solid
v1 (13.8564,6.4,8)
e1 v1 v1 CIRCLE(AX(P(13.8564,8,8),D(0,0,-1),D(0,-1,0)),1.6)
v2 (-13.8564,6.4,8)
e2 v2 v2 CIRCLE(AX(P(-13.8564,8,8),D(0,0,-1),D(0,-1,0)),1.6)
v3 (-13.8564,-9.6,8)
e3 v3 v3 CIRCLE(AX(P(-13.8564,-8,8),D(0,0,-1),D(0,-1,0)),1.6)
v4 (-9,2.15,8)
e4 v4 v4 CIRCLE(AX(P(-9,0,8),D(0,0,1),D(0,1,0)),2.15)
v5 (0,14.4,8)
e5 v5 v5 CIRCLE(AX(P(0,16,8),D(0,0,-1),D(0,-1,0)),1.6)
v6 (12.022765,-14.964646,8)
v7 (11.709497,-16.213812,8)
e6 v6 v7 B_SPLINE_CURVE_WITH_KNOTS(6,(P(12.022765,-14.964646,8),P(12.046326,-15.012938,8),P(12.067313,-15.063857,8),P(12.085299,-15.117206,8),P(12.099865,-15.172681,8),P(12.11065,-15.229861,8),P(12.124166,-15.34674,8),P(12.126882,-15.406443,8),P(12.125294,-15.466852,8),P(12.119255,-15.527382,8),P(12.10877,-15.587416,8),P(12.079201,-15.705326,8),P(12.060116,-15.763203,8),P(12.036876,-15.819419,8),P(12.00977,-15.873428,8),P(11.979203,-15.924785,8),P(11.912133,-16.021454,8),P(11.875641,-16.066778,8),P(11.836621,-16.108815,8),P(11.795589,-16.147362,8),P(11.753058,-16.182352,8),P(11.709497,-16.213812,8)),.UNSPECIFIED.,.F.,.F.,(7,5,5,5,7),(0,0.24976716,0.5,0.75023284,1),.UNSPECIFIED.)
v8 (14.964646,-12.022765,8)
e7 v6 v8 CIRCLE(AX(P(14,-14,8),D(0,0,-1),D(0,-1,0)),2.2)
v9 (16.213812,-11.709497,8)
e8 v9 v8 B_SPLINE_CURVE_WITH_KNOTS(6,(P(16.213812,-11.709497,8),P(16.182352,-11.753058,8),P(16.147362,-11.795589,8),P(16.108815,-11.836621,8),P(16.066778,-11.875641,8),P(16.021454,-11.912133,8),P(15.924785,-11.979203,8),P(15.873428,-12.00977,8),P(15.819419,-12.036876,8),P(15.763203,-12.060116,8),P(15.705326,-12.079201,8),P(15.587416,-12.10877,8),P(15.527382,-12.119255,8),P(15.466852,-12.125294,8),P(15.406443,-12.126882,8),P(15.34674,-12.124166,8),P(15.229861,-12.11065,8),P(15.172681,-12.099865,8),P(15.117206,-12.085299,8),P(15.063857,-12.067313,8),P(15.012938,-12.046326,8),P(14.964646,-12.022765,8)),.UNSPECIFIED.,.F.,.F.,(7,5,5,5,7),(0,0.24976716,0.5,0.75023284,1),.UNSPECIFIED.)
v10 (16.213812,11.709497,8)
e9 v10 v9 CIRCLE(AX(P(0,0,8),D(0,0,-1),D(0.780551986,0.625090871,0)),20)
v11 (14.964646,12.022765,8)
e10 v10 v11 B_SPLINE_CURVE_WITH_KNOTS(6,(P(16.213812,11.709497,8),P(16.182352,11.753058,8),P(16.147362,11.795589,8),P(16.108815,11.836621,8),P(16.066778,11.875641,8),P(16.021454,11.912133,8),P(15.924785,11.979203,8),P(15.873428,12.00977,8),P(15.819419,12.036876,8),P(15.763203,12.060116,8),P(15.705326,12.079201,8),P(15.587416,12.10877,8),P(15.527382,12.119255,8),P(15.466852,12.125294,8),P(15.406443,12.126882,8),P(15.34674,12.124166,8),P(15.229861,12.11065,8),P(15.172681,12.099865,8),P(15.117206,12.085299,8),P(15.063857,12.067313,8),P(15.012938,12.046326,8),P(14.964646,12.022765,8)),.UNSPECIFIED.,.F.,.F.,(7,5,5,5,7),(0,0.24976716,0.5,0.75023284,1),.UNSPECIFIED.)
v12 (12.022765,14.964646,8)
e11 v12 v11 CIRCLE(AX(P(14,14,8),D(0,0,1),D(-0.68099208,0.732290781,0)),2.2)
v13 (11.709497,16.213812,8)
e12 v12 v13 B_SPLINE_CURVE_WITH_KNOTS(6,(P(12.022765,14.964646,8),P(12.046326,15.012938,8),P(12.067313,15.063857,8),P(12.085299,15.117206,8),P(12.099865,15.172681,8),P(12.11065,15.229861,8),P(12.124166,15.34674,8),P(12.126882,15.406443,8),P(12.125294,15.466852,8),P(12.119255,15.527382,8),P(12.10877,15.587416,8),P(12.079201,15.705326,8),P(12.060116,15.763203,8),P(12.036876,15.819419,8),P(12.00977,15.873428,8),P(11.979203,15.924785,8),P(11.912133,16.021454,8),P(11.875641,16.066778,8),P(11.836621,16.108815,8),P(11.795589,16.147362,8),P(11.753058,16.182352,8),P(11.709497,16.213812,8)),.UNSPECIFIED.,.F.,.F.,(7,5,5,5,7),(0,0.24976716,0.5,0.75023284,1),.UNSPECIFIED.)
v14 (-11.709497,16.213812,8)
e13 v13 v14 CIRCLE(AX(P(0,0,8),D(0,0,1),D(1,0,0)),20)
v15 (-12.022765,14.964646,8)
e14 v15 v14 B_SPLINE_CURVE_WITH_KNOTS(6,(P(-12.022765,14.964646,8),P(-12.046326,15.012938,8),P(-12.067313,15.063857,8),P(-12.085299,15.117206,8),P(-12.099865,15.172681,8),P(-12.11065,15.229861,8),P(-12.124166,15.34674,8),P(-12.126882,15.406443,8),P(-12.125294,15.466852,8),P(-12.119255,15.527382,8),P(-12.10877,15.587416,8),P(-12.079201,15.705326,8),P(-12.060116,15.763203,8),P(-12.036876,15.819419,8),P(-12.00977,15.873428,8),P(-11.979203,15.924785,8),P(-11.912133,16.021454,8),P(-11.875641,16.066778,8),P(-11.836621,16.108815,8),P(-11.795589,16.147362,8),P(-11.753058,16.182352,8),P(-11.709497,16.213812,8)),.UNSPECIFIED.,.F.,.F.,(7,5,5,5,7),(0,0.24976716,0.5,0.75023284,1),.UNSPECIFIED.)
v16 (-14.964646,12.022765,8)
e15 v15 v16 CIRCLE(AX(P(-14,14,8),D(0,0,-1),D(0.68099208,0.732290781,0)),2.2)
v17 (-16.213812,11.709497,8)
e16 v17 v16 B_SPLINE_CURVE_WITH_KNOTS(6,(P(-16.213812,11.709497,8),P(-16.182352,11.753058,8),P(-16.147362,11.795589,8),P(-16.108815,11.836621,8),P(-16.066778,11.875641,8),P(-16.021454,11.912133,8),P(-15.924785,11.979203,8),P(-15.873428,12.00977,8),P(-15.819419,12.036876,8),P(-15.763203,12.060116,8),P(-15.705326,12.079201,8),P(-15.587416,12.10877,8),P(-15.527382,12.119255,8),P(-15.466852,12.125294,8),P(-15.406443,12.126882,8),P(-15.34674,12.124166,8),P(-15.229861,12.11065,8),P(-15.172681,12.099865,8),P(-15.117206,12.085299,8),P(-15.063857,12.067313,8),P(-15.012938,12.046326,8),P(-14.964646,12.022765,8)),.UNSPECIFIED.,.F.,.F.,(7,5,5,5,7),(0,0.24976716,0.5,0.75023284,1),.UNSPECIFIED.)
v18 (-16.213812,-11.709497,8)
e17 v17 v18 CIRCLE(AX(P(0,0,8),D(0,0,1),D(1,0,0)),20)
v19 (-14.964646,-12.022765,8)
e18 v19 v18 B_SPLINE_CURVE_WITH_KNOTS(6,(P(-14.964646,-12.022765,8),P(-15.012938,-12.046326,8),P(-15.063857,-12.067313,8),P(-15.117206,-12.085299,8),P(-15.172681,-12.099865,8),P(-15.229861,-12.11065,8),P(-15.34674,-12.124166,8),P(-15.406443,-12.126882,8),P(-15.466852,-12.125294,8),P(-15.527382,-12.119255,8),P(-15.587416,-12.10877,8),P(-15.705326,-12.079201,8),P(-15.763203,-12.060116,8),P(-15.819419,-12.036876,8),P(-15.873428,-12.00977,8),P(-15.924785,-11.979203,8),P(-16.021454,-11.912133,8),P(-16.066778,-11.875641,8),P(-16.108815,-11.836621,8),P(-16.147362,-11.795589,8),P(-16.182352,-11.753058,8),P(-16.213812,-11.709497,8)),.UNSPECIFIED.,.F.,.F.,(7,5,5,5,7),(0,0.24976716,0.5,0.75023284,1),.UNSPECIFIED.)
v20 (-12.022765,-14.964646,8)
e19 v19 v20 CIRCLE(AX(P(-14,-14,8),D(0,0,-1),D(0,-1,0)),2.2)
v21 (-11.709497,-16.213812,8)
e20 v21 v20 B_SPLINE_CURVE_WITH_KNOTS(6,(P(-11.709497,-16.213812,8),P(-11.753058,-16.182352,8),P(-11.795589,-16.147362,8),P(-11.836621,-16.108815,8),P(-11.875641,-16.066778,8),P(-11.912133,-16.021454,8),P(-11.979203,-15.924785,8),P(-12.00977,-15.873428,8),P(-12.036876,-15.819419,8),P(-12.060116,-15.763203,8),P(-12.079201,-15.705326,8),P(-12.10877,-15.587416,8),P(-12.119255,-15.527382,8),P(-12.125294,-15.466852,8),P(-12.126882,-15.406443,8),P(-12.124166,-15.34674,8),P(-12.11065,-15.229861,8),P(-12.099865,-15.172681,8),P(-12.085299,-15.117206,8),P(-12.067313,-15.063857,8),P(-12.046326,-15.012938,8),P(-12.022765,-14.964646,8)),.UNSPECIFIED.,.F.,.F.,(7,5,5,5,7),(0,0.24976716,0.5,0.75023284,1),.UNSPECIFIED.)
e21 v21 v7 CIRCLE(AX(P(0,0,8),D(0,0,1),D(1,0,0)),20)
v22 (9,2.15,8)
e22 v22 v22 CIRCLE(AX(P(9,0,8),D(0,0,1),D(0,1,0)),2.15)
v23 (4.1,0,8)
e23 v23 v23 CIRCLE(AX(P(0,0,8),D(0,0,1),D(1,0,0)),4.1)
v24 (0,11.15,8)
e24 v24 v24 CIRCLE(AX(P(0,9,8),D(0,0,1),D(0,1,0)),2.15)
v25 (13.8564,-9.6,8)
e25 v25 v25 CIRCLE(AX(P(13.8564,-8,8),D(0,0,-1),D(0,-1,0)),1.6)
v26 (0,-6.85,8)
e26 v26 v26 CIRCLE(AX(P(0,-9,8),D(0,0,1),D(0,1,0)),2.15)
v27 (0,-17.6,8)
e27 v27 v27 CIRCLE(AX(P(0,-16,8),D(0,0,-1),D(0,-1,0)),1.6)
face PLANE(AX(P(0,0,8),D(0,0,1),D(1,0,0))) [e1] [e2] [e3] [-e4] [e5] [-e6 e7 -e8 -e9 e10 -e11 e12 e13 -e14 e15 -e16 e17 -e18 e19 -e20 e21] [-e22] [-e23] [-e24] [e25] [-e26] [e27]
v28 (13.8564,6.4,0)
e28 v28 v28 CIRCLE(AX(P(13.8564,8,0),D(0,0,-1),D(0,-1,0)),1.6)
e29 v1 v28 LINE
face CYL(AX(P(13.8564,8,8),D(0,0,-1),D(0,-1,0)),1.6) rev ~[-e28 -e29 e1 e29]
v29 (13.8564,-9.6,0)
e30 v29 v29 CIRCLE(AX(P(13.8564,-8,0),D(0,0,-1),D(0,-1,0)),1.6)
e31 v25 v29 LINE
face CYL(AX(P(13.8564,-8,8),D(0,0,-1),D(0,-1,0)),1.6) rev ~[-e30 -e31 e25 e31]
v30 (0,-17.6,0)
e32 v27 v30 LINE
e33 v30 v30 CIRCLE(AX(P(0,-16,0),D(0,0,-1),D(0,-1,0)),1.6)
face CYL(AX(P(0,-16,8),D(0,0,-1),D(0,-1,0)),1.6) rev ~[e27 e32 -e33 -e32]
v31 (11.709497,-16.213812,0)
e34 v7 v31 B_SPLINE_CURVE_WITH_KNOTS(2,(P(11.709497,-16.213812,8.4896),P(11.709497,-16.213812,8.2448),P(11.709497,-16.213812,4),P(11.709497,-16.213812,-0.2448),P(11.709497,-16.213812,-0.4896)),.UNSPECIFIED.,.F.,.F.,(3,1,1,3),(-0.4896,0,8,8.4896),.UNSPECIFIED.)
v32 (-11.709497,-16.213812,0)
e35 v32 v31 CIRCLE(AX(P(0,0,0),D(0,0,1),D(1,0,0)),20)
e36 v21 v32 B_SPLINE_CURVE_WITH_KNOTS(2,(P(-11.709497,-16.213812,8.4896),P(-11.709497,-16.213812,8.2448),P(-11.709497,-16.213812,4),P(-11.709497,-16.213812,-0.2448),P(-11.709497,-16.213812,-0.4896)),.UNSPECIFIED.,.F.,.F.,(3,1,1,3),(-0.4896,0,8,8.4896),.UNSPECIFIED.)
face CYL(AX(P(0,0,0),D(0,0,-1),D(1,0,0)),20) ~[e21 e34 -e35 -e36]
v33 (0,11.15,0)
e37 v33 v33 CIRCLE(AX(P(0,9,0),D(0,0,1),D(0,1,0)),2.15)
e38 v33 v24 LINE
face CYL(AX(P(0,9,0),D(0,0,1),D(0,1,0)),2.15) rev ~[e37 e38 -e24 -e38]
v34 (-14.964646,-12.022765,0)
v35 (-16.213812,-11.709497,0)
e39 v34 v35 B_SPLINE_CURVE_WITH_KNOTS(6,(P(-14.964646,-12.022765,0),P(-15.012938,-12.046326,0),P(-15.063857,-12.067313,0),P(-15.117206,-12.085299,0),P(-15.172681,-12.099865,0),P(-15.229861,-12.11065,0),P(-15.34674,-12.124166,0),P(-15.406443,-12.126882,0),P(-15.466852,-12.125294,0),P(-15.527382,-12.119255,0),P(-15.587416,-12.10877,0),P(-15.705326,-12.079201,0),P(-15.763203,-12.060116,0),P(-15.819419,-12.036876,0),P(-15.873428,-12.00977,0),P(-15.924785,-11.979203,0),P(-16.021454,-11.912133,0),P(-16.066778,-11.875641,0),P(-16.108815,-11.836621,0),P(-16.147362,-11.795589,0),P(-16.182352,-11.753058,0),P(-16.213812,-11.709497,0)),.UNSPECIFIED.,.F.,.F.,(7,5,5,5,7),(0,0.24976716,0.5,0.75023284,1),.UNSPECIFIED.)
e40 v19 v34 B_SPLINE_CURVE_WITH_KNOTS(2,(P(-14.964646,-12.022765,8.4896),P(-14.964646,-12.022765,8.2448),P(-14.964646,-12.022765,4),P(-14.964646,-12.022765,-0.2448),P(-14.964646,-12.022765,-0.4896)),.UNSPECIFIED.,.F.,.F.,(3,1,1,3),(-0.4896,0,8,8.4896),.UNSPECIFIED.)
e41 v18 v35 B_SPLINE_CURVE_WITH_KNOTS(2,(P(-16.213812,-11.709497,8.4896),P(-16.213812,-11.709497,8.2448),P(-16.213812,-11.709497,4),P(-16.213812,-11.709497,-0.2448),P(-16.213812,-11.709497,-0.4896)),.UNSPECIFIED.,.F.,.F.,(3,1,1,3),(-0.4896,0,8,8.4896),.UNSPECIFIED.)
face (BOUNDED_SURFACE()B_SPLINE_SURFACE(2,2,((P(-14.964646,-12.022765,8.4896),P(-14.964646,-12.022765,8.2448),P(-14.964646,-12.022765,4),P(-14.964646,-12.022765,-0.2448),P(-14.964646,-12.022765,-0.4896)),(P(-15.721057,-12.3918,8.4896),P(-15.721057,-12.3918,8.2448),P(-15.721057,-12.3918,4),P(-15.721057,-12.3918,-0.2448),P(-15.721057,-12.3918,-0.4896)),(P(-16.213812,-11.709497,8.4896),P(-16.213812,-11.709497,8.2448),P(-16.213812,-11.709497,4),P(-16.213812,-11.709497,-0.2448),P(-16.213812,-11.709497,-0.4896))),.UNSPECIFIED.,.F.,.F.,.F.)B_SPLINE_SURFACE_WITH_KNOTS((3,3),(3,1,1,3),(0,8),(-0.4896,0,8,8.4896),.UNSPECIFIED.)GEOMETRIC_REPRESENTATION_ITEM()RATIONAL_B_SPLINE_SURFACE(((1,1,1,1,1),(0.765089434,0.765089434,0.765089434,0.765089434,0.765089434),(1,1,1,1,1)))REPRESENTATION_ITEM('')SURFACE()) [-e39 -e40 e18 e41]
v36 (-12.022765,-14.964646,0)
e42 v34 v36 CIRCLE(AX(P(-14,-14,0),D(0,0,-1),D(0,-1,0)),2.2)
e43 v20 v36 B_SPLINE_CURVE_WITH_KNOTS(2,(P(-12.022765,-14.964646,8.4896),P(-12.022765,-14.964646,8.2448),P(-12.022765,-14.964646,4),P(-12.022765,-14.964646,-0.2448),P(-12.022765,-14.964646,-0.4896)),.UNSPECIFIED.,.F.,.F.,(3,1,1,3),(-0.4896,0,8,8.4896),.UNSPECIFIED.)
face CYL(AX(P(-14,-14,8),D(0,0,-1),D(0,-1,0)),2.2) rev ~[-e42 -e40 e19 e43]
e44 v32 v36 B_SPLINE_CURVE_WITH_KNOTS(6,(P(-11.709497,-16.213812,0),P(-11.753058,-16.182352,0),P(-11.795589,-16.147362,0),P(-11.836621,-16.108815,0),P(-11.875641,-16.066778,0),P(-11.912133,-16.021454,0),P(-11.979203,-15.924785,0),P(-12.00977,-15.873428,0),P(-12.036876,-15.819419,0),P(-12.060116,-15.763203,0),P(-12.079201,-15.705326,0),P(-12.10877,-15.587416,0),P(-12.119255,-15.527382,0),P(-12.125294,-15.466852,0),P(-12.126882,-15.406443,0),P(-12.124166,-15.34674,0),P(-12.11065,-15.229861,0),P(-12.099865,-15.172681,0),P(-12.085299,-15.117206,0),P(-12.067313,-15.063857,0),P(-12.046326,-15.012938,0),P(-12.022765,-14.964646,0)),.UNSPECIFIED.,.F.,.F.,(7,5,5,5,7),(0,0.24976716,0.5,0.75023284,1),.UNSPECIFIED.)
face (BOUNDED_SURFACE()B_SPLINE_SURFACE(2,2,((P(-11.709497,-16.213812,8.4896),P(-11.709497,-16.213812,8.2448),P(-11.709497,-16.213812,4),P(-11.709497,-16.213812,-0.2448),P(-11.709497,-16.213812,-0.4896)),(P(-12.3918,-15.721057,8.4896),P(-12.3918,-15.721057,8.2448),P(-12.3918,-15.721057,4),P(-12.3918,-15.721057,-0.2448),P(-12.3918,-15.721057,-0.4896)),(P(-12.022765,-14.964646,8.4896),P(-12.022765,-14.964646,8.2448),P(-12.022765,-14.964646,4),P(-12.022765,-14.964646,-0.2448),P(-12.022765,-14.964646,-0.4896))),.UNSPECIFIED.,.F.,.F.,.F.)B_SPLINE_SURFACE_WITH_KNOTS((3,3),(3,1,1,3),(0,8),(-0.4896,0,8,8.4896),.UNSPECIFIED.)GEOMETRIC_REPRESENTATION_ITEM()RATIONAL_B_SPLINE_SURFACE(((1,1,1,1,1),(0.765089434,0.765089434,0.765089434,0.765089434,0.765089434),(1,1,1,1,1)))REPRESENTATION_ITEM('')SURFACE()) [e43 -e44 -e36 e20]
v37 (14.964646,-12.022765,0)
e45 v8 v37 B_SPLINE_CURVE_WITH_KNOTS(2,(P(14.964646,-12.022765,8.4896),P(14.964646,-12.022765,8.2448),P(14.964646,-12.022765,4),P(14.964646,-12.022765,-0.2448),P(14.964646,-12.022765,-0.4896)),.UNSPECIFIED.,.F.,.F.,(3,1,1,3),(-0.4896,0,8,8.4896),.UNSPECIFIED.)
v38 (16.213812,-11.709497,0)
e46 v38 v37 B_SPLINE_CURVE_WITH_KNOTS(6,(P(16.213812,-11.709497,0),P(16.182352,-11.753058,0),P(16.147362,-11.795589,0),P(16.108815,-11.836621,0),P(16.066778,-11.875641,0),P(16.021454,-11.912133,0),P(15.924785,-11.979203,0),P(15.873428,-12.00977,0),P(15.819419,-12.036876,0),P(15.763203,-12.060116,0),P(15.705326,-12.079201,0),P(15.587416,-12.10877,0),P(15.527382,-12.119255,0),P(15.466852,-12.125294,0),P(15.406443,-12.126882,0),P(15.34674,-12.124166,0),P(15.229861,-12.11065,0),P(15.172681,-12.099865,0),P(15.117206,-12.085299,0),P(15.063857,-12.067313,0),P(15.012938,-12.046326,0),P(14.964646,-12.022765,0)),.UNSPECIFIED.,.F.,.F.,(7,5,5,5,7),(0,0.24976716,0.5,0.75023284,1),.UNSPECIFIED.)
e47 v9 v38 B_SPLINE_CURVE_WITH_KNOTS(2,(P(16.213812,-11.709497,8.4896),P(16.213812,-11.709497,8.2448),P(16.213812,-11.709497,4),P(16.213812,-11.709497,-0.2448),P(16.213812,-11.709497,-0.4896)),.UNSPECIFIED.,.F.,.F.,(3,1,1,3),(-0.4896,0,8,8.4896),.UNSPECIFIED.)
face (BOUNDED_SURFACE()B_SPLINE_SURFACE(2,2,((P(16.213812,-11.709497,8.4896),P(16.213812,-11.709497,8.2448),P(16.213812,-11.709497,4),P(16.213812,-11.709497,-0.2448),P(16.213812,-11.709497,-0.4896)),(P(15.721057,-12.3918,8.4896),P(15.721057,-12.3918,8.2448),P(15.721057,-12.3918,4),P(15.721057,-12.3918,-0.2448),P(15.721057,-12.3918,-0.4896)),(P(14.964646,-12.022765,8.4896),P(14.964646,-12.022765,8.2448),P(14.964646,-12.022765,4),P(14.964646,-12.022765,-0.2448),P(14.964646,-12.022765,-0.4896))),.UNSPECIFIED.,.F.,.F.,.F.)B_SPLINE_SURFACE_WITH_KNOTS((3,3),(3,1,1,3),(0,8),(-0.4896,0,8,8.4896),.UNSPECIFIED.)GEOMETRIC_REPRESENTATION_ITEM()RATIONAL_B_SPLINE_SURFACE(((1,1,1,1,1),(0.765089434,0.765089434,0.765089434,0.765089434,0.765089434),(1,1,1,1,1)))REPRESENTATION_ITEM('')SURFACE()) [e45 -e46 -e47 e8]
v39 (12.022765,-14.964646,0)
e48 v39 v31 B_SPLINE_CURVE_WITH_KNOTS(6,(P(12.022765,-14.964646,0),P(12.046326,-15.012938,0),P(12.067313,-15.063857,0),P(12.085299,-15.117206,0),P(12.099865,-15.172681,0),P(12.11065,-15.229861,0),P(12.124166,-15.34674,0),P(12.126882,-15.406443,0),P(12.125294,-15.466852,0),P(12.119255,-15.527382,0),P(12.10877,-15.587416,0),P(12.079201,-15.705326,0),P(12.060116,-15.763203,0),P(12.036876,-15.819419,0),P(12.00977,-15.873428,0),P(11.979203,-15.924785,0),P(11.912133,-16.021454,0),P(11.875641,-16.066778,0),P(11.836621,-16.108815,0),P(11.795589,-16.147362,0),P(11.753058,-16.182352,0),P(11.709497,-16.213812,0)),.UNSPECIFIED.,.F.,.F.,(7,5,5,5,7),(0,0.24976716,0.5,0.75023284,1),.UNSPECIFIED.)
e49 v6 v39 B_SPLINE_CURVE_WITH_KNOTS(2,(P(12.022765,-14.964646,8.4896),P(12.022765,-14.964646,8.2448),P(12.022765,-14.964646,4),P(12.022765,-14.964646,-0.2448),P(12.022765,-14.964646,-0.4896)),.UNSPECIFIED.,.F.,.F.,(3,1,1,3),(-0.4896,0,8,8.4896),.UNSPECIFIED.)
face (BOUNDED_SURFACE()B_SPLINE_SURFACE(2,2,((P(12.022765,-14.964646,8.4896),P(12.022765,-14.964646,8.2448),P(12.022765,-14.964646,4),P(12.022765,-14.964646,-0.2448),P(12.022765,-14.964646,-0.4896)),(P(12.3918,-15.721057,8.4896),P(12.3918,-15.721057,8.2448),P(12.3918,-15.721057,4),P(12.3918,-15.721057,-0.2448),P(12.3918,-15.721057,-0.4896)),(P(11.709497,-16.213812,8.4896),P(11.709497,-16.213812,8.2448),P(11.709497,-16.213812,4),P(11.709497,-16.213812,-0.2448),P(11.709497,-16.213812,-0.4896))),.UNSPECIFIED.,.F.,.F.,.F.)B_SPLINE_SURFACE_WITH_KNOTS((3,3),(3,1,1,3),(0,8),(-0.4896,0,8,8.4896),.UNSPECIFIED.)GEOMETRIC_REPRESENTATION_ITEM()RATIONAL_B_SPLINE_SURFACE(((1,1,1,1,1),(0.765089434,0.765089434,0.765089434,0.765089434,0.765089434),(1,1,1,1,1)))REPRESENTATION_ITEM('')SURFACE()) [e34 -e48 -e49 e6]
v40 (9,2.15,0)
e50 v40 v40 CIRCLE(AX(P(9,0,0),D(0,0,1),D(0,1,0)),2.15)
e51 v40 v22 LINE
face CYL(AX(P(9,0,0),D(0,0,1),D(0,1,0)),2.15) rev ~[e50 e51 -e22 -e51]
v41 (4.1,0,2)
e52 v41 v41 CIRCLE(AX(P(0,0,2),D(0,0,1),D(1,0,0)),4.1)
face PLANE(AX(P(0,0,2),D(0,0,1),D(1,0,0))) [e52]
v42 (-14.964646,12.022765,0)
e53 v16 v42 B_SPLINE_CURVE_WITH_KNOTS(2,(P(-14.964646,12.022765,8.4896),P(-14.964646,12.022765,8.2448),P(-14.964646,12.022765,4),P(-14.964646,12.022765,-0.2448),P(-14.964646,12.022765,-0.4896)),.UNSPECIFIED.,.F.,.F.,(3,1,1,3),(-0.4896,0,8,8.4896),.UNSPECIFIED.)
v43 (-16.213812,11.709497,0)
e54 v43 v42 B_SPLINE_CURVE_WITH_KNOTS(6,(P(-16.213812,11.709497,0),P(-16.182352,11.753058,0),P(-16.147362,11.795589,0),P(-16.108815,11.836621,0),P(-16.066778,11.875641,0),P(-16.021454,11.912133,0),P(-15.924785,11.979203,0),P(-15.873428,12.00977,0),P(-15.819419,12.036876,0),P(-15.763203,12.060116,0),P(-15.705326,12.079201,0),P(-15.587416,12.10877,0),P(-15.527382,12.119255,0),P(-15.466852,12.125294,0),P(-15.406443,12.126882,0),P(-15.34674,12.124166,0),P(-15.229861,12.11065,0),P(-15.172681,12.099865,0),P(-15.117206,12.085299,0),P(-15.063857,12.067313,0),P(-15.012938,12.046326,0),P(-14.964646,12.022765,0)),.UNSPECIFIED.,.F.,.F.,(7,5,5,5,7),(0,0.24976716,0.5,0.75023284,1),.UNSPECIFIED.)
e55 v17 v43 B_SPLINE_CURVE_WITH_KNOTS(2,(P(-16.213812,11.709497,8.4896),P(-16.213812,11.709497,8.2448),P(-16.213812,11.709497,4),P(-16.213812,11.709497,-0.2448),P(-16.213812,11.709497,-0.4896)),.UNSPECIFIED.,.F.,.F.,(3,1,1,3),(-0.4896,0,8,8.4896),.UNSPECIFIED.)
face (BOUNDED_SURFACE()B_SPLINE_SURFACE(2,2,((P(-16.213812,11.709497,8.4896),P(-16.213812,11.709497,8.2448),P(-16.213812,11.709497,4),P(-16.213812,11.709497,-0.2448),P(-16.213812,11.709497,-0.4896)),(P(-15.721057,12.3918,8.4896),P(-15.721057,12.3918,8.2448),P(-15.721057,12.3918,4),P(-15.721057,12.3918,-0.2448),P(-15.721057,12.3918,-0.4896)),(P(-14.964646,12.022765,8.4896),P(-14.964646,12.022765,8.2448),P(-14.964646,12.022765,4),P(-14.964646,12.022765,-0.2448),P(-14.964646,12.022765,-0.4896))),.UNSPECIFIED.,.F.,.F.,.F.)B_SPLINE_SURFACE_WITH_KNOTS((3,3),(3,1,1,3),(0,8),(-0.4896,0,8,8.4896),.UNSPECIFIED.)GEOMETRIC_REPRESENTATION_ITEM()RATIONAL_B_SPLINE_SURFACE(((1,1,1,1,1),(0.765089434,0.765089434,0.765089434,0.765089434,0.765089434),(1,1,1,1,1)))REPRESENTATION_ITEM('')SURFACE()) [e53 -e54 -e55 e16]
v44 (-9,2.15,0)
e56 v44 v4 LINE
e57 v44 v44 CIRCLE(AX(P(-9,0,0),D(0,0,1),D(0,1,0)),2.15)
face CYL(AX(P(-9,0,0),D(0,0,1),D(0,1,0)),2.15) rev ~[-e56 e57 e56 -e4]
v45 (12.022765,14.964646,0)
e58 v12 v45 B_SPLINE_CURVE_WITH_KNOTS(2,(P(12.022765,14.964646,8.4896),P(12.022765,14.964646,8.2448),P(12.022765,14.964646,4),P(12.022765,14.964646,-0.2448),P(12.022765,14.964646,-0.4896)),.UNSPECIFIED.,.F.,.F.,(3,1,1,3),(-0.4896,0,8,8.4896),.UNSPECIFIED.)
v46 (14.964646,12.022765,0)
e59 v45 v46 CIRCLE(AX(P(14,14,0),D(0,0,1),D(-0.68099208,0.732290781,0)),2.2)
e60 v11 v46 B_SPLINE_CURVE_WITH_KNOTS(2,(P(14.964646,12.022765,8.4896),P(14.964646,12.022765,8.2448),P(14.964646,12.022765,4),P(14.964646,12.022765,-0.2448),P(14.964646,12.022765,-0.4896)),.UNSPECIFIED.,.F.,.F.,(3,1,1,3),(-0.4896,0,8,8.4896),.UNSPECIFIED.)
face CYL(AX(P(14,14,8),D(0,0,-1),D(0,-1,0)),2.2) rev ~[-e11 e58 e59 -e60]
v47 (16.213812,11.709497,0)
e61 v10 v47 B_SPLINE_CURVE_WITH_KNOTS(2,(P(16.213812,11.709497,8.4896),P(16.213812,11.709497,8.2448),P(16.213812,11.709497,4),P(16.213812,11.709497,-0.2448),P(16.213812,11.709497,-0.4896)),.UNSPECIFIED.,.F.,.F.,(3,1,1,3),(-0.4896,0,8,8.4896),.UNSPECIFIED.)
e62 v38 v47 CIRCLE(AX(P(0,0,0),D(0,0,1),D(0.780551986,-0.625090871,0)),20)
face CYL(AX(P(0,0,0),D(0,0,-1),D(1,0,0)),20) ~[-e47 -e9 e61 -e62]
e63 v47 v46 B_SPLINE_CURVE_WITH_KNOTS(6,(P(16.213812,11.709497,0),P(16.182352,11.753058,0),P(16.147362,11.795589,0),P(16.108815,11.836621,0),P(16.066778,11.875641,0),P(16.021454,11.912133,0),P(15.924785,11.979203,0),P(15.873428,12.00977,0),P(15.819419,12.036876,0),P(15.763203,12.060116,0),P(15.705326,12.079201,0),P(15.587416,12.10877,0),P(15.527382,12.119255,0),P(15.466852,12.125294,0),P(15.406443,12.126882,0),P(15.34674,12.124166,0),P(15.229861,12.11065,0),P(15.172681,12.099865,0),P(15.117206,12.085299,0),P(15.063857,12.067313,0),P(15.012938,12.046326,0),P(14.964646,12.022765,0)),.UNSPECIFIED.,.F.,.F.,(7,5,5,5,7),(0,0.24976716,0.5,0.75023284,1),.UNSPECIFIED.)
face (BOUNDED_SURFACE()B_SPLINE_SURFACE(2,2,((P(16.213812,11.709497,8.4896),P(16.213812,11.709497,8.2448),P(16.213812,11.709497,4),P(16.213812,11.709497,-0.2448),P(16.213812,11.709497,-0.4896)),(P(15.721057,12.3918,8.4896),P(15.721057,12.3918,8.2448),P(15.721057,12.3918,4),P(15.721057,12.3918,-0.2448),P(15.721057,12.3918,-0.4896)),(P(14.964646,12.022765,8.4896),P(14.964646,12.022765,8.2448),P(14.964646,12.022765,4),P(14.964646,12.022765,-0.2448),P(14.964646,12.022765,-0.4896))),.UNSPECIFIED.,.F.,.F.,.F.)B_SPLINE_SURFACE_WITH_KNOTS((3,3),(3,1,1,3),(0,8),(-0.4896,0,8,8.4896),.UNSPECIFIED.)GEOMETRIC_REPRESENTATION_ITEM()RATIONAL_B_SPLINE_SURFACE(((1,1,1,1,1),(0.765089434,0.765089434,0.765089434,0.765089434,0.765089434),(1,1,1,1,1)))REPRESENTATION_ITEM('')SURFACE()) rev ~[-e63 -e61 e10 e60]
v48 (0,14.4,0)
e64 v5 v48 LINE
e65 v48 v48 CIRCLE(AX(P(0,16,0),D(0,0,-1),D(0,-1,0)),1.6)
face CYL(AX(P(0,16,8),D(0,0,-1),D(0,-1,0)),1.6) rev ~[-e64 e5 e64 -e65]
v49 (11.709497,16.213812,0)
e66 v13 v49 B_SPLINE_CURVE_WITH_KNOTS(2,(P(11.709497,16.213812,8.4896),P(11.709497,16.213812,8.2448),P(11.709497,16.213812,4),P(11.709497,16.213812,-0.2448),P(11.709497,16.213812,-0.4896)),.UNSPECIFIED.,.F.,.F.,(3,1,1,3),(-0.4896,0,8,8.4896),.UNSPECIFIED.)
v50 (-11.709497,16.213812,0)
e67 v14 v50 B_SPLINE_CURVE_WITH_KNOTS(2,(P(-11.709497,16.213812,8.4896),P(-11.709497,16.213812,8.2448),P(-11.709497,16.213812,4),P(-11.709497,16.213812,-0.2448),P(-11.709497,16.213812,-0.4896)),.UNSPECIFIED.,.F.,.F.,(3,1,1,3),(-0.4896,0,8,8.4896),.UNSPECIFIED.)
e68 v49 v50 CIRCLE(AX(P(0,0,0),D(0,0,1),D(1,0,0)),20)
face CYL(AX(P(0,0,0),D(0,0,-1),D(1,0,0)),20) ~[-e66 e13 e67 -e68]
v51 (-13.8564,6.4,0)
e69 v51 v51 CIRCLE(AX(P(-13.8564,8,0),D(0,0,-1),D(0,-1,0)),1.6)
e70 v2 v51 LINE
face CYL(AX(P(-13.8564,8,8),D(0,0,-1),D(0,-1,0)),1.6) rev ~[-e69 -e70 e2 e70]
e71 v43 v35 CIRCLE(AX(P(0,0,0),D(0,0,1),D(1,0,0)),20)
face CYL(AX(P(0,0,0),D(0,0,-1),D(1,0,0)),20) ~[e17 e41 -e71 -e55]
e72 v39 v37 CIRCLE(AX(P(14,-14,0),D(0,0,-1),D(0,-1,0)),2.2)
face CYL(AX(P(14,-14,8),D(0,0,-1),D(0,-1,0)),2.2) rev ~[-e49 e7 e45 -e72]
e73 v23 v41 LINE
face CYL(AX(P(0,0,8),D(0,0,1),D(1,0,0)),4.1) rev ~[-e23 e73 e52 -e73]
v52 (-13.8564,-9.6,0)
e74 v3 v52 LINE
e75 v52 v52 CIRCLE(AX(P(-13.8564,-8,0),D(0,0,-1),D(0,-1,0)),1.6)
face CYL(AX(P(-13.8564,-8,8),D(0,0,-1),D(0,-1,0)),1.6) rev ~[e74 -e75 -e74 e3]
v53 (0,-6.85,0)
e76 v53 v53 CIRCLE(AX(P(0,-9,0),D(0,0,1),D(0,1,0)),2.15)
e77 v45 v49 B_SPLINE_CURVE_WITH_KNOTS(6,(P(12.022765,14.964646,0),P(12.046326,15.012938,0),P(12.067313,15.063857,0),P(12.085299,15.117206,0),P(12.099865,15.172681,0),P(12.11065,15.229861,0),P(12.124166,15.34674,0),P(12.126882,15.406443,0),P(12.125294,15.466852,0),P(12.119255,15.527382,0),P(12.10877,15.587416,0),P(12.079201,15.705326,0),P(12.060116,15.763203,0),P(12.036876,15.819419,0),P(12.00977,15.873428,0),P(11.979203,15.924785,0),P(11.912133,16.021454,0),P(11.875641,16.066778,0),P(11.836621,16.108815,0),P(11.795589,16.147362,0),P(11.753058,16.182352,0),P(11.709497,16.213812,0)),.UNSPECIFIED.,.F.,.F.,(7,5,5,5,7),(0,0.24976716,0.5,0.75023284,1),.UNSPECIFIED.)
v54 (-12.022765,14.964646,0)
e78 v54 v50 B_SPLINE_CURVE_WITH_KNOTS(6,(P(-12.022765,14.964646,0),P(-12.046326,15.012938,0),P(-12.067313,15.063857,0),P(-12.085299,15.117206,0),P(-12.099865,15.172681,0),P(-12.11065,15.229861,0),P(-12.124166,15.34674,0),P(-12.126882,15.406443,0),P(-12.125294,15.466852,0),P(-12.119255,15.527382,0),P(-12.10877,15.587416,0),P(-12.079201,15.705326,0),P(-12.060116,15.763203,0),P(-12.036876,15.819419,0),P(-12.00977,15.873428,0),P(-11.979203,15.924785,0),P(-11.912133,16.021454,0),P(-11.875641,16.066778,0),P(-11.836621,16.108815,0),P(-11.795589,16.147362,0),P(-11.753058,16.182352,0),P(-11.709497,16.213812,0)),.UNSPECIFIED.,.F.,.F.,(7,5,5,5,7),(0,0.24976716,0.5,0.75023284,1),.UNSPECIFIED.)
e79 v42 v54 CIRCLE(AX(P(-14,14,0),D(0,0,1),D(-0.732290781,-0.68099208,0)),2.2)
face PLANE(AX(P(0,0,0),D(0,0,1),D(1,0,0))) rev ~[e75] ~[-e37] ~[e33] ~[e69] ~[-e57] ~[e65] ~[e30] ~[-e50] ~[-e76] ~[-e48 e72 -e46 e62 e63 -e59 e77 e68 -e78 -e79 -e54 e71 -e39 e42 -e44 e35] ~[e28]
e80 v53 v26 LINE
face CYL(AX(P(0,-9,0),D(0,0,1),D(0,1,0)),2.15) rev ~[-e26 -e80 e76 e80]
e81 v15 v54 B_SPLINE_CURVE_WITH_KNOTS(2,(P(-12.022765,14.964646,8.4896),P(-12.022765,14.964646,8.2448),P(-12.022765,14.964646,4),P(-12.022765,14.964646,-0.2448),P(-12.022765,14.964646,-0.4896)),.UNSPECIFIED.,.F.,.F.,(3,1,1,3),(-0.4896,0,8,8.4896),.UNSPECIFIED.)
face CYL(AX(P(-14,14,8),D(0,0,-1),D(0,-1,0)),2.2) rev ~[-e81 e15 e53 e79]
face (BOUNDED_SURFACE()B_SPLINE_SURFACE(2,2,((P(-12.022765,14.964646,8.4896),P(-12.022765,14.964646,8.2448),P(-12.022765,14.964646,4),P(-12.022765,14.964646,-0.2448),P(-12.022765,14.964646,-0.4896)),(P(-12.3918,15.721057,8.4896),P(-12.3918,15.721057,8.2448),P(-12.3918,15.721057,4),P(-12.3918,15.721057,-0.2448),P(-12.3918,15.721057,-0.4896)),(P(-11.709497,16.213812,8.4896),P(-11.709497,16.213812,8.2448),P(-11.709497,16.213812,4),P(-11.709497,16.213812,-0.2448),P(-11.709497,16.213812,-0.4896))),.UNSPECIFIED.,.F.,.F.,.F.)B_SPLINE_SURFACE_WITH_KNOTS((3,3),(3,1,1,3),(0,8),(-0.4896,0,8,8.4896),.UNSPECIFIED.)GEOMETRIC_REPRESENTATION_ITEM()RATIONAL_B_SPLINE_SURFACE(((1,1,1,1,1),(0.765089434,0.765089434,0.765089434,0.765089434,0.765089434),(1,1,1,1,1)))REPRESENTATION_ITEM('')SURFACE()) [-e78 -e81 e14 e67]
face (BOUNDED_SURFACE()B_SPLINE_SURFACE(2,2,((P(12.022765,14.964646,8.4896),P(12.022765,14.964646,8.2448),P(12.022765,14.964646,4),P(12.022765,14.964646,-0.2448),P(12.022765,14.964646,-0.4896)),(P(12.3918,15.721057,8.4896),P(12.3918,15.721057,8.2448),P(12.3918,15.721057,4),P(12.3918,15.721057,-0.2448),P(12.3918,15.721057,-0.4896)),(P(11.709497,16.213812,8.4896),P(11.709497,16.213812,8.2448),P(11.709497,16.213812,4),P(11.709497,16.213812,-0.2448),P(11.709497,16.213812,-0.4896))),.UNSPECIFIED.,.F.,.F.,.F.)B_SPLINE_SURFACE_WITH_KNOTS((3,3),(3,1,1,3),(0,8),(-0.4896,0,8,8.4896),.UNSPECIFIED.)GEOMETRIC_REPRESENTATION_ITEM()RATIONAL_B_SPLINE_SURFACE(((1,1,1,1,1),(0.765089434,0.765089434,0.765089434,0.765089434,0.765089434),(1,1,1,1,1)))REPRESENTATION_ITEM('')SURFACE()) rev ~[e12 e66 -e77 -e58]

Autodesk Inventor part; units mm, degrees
ref_plane "YZ Plane" through (0, 0, 0) normal (1, 0, 0) x (0, 1, 0)
ref_plane "XZ Plane" through (0, 0, 0) normal (0, 1, 0) x (-1, 0, 0)
ref_plane "XY Plane" through (0, 0, 0) normal (0, 0, 1) x (1, 0, 0)
sketch "スケッチ1" plane through (0, 0, 0) normal (0, 0, 1) x (1, 0, 0)
  circle A0 centre (0, 0) radius 20
  dimension "d0" = 40
extrude "押し出し1" add sketch "スケッチ1" along normal blind 8
sketch "スケッチ2" plane through (0, 0, 8) normal (0, 0, 1) x (1, 0, 0)
  circle A0 centre (0, 0) radius 16
  point P0 (0, 16)
  point P1 (-13.8564, 8)
  point P2 (-13.8564, -8)
  point P3 (0, -16)
  point P4 (13.8564, -8)
  point P5 (13.8564, 8)
  dimension "d3" = 32
  dimension "d6" = 360
hole "穴1" at (0, 16, 8) at (-13.8564, 8, 8) at (-13.8564, -8, 8) at (0, -16, 8) at (13.8564, -8, 8) at (13.8564, 8, 8) direction (0, 0, -1) diameter 3.2 end through all clearance for "Socket Head Cap Screw" size "M3" standard "Ansi Metric M Profile"
sketch "スケッチ3" plane through (0, 0, 0) normal (0, 0, -1) x (-1, 0, 0)
  circle A0 centre (0, 0) radius 9
  point P0 (0, 9)
  point P1 (-9, 0)
  point P2 (0, -9)
  point P3 (9, 0)
  dimension "d15" = 18
  dimension "d18" = 360
hole "穴2" at (0, 9, 0) at (9, 0, 0) at (0, -9, 0) at (-9, 0, 0) direction (0, 0, 1) diameter 4.3 end through all clearance for "Socket Head Cap Screw" size "M4" standard "Ansi Metric M Profile"
sketch "スケッチ4" plane through (0, 0, 8) normal (0, 0, 1) x (1, 0, 0)
  circle A0 centre (0, 0) radius 4.1
  dimension "d27" = 8.2
extrude "押し出し2" cut sketch "スケッチ4" against normal blind 6
sketch "スケッチ5" plane through (0, 0, 8) normal (0, 0, 1) x (1, 0, 0)
  line L0 (-14, -14) -> (14, -14)
  line L1 (14, -14) -> (14, 14)
  line L2 (14, 14) -> (-14, 14)
  line L3 (-14, 14) -> (-14, -14)
  line L4 (-14, -14) -> (14, 14) construction
  line L5 (14, -14) -> (-14, 14) construction
  point P0 (0, 0)
  dimension "d30" = 28
  dimension "d31" = 28
hole "穴3" at (-14, 14, 8) at (14, 14, 8) at (14, -14, 8) at (-14, -14, 8) direction (0, 0, -1) diameter 2.2 end through all counterbore diameter 4.4 counterbore depth 20 clearance for "Socket Head Cap Screw" size "M2" standard "Ansi Metric M Profile"
fillet "フィレット1" radius 1 8 edges at (15.611, -12.5018, 4) (15.611, 12.5018, 4) (12.5018, 15.611, 4) (12.5018, -15.611, 4) (-12.5018, -15.611, 4) (-15.611, -12.5018, 4) (-15.611, 12.5018, 4) (-12.5018, 15.611, 4)
properties part number "scara-base18" material "ABS プラスチック"
